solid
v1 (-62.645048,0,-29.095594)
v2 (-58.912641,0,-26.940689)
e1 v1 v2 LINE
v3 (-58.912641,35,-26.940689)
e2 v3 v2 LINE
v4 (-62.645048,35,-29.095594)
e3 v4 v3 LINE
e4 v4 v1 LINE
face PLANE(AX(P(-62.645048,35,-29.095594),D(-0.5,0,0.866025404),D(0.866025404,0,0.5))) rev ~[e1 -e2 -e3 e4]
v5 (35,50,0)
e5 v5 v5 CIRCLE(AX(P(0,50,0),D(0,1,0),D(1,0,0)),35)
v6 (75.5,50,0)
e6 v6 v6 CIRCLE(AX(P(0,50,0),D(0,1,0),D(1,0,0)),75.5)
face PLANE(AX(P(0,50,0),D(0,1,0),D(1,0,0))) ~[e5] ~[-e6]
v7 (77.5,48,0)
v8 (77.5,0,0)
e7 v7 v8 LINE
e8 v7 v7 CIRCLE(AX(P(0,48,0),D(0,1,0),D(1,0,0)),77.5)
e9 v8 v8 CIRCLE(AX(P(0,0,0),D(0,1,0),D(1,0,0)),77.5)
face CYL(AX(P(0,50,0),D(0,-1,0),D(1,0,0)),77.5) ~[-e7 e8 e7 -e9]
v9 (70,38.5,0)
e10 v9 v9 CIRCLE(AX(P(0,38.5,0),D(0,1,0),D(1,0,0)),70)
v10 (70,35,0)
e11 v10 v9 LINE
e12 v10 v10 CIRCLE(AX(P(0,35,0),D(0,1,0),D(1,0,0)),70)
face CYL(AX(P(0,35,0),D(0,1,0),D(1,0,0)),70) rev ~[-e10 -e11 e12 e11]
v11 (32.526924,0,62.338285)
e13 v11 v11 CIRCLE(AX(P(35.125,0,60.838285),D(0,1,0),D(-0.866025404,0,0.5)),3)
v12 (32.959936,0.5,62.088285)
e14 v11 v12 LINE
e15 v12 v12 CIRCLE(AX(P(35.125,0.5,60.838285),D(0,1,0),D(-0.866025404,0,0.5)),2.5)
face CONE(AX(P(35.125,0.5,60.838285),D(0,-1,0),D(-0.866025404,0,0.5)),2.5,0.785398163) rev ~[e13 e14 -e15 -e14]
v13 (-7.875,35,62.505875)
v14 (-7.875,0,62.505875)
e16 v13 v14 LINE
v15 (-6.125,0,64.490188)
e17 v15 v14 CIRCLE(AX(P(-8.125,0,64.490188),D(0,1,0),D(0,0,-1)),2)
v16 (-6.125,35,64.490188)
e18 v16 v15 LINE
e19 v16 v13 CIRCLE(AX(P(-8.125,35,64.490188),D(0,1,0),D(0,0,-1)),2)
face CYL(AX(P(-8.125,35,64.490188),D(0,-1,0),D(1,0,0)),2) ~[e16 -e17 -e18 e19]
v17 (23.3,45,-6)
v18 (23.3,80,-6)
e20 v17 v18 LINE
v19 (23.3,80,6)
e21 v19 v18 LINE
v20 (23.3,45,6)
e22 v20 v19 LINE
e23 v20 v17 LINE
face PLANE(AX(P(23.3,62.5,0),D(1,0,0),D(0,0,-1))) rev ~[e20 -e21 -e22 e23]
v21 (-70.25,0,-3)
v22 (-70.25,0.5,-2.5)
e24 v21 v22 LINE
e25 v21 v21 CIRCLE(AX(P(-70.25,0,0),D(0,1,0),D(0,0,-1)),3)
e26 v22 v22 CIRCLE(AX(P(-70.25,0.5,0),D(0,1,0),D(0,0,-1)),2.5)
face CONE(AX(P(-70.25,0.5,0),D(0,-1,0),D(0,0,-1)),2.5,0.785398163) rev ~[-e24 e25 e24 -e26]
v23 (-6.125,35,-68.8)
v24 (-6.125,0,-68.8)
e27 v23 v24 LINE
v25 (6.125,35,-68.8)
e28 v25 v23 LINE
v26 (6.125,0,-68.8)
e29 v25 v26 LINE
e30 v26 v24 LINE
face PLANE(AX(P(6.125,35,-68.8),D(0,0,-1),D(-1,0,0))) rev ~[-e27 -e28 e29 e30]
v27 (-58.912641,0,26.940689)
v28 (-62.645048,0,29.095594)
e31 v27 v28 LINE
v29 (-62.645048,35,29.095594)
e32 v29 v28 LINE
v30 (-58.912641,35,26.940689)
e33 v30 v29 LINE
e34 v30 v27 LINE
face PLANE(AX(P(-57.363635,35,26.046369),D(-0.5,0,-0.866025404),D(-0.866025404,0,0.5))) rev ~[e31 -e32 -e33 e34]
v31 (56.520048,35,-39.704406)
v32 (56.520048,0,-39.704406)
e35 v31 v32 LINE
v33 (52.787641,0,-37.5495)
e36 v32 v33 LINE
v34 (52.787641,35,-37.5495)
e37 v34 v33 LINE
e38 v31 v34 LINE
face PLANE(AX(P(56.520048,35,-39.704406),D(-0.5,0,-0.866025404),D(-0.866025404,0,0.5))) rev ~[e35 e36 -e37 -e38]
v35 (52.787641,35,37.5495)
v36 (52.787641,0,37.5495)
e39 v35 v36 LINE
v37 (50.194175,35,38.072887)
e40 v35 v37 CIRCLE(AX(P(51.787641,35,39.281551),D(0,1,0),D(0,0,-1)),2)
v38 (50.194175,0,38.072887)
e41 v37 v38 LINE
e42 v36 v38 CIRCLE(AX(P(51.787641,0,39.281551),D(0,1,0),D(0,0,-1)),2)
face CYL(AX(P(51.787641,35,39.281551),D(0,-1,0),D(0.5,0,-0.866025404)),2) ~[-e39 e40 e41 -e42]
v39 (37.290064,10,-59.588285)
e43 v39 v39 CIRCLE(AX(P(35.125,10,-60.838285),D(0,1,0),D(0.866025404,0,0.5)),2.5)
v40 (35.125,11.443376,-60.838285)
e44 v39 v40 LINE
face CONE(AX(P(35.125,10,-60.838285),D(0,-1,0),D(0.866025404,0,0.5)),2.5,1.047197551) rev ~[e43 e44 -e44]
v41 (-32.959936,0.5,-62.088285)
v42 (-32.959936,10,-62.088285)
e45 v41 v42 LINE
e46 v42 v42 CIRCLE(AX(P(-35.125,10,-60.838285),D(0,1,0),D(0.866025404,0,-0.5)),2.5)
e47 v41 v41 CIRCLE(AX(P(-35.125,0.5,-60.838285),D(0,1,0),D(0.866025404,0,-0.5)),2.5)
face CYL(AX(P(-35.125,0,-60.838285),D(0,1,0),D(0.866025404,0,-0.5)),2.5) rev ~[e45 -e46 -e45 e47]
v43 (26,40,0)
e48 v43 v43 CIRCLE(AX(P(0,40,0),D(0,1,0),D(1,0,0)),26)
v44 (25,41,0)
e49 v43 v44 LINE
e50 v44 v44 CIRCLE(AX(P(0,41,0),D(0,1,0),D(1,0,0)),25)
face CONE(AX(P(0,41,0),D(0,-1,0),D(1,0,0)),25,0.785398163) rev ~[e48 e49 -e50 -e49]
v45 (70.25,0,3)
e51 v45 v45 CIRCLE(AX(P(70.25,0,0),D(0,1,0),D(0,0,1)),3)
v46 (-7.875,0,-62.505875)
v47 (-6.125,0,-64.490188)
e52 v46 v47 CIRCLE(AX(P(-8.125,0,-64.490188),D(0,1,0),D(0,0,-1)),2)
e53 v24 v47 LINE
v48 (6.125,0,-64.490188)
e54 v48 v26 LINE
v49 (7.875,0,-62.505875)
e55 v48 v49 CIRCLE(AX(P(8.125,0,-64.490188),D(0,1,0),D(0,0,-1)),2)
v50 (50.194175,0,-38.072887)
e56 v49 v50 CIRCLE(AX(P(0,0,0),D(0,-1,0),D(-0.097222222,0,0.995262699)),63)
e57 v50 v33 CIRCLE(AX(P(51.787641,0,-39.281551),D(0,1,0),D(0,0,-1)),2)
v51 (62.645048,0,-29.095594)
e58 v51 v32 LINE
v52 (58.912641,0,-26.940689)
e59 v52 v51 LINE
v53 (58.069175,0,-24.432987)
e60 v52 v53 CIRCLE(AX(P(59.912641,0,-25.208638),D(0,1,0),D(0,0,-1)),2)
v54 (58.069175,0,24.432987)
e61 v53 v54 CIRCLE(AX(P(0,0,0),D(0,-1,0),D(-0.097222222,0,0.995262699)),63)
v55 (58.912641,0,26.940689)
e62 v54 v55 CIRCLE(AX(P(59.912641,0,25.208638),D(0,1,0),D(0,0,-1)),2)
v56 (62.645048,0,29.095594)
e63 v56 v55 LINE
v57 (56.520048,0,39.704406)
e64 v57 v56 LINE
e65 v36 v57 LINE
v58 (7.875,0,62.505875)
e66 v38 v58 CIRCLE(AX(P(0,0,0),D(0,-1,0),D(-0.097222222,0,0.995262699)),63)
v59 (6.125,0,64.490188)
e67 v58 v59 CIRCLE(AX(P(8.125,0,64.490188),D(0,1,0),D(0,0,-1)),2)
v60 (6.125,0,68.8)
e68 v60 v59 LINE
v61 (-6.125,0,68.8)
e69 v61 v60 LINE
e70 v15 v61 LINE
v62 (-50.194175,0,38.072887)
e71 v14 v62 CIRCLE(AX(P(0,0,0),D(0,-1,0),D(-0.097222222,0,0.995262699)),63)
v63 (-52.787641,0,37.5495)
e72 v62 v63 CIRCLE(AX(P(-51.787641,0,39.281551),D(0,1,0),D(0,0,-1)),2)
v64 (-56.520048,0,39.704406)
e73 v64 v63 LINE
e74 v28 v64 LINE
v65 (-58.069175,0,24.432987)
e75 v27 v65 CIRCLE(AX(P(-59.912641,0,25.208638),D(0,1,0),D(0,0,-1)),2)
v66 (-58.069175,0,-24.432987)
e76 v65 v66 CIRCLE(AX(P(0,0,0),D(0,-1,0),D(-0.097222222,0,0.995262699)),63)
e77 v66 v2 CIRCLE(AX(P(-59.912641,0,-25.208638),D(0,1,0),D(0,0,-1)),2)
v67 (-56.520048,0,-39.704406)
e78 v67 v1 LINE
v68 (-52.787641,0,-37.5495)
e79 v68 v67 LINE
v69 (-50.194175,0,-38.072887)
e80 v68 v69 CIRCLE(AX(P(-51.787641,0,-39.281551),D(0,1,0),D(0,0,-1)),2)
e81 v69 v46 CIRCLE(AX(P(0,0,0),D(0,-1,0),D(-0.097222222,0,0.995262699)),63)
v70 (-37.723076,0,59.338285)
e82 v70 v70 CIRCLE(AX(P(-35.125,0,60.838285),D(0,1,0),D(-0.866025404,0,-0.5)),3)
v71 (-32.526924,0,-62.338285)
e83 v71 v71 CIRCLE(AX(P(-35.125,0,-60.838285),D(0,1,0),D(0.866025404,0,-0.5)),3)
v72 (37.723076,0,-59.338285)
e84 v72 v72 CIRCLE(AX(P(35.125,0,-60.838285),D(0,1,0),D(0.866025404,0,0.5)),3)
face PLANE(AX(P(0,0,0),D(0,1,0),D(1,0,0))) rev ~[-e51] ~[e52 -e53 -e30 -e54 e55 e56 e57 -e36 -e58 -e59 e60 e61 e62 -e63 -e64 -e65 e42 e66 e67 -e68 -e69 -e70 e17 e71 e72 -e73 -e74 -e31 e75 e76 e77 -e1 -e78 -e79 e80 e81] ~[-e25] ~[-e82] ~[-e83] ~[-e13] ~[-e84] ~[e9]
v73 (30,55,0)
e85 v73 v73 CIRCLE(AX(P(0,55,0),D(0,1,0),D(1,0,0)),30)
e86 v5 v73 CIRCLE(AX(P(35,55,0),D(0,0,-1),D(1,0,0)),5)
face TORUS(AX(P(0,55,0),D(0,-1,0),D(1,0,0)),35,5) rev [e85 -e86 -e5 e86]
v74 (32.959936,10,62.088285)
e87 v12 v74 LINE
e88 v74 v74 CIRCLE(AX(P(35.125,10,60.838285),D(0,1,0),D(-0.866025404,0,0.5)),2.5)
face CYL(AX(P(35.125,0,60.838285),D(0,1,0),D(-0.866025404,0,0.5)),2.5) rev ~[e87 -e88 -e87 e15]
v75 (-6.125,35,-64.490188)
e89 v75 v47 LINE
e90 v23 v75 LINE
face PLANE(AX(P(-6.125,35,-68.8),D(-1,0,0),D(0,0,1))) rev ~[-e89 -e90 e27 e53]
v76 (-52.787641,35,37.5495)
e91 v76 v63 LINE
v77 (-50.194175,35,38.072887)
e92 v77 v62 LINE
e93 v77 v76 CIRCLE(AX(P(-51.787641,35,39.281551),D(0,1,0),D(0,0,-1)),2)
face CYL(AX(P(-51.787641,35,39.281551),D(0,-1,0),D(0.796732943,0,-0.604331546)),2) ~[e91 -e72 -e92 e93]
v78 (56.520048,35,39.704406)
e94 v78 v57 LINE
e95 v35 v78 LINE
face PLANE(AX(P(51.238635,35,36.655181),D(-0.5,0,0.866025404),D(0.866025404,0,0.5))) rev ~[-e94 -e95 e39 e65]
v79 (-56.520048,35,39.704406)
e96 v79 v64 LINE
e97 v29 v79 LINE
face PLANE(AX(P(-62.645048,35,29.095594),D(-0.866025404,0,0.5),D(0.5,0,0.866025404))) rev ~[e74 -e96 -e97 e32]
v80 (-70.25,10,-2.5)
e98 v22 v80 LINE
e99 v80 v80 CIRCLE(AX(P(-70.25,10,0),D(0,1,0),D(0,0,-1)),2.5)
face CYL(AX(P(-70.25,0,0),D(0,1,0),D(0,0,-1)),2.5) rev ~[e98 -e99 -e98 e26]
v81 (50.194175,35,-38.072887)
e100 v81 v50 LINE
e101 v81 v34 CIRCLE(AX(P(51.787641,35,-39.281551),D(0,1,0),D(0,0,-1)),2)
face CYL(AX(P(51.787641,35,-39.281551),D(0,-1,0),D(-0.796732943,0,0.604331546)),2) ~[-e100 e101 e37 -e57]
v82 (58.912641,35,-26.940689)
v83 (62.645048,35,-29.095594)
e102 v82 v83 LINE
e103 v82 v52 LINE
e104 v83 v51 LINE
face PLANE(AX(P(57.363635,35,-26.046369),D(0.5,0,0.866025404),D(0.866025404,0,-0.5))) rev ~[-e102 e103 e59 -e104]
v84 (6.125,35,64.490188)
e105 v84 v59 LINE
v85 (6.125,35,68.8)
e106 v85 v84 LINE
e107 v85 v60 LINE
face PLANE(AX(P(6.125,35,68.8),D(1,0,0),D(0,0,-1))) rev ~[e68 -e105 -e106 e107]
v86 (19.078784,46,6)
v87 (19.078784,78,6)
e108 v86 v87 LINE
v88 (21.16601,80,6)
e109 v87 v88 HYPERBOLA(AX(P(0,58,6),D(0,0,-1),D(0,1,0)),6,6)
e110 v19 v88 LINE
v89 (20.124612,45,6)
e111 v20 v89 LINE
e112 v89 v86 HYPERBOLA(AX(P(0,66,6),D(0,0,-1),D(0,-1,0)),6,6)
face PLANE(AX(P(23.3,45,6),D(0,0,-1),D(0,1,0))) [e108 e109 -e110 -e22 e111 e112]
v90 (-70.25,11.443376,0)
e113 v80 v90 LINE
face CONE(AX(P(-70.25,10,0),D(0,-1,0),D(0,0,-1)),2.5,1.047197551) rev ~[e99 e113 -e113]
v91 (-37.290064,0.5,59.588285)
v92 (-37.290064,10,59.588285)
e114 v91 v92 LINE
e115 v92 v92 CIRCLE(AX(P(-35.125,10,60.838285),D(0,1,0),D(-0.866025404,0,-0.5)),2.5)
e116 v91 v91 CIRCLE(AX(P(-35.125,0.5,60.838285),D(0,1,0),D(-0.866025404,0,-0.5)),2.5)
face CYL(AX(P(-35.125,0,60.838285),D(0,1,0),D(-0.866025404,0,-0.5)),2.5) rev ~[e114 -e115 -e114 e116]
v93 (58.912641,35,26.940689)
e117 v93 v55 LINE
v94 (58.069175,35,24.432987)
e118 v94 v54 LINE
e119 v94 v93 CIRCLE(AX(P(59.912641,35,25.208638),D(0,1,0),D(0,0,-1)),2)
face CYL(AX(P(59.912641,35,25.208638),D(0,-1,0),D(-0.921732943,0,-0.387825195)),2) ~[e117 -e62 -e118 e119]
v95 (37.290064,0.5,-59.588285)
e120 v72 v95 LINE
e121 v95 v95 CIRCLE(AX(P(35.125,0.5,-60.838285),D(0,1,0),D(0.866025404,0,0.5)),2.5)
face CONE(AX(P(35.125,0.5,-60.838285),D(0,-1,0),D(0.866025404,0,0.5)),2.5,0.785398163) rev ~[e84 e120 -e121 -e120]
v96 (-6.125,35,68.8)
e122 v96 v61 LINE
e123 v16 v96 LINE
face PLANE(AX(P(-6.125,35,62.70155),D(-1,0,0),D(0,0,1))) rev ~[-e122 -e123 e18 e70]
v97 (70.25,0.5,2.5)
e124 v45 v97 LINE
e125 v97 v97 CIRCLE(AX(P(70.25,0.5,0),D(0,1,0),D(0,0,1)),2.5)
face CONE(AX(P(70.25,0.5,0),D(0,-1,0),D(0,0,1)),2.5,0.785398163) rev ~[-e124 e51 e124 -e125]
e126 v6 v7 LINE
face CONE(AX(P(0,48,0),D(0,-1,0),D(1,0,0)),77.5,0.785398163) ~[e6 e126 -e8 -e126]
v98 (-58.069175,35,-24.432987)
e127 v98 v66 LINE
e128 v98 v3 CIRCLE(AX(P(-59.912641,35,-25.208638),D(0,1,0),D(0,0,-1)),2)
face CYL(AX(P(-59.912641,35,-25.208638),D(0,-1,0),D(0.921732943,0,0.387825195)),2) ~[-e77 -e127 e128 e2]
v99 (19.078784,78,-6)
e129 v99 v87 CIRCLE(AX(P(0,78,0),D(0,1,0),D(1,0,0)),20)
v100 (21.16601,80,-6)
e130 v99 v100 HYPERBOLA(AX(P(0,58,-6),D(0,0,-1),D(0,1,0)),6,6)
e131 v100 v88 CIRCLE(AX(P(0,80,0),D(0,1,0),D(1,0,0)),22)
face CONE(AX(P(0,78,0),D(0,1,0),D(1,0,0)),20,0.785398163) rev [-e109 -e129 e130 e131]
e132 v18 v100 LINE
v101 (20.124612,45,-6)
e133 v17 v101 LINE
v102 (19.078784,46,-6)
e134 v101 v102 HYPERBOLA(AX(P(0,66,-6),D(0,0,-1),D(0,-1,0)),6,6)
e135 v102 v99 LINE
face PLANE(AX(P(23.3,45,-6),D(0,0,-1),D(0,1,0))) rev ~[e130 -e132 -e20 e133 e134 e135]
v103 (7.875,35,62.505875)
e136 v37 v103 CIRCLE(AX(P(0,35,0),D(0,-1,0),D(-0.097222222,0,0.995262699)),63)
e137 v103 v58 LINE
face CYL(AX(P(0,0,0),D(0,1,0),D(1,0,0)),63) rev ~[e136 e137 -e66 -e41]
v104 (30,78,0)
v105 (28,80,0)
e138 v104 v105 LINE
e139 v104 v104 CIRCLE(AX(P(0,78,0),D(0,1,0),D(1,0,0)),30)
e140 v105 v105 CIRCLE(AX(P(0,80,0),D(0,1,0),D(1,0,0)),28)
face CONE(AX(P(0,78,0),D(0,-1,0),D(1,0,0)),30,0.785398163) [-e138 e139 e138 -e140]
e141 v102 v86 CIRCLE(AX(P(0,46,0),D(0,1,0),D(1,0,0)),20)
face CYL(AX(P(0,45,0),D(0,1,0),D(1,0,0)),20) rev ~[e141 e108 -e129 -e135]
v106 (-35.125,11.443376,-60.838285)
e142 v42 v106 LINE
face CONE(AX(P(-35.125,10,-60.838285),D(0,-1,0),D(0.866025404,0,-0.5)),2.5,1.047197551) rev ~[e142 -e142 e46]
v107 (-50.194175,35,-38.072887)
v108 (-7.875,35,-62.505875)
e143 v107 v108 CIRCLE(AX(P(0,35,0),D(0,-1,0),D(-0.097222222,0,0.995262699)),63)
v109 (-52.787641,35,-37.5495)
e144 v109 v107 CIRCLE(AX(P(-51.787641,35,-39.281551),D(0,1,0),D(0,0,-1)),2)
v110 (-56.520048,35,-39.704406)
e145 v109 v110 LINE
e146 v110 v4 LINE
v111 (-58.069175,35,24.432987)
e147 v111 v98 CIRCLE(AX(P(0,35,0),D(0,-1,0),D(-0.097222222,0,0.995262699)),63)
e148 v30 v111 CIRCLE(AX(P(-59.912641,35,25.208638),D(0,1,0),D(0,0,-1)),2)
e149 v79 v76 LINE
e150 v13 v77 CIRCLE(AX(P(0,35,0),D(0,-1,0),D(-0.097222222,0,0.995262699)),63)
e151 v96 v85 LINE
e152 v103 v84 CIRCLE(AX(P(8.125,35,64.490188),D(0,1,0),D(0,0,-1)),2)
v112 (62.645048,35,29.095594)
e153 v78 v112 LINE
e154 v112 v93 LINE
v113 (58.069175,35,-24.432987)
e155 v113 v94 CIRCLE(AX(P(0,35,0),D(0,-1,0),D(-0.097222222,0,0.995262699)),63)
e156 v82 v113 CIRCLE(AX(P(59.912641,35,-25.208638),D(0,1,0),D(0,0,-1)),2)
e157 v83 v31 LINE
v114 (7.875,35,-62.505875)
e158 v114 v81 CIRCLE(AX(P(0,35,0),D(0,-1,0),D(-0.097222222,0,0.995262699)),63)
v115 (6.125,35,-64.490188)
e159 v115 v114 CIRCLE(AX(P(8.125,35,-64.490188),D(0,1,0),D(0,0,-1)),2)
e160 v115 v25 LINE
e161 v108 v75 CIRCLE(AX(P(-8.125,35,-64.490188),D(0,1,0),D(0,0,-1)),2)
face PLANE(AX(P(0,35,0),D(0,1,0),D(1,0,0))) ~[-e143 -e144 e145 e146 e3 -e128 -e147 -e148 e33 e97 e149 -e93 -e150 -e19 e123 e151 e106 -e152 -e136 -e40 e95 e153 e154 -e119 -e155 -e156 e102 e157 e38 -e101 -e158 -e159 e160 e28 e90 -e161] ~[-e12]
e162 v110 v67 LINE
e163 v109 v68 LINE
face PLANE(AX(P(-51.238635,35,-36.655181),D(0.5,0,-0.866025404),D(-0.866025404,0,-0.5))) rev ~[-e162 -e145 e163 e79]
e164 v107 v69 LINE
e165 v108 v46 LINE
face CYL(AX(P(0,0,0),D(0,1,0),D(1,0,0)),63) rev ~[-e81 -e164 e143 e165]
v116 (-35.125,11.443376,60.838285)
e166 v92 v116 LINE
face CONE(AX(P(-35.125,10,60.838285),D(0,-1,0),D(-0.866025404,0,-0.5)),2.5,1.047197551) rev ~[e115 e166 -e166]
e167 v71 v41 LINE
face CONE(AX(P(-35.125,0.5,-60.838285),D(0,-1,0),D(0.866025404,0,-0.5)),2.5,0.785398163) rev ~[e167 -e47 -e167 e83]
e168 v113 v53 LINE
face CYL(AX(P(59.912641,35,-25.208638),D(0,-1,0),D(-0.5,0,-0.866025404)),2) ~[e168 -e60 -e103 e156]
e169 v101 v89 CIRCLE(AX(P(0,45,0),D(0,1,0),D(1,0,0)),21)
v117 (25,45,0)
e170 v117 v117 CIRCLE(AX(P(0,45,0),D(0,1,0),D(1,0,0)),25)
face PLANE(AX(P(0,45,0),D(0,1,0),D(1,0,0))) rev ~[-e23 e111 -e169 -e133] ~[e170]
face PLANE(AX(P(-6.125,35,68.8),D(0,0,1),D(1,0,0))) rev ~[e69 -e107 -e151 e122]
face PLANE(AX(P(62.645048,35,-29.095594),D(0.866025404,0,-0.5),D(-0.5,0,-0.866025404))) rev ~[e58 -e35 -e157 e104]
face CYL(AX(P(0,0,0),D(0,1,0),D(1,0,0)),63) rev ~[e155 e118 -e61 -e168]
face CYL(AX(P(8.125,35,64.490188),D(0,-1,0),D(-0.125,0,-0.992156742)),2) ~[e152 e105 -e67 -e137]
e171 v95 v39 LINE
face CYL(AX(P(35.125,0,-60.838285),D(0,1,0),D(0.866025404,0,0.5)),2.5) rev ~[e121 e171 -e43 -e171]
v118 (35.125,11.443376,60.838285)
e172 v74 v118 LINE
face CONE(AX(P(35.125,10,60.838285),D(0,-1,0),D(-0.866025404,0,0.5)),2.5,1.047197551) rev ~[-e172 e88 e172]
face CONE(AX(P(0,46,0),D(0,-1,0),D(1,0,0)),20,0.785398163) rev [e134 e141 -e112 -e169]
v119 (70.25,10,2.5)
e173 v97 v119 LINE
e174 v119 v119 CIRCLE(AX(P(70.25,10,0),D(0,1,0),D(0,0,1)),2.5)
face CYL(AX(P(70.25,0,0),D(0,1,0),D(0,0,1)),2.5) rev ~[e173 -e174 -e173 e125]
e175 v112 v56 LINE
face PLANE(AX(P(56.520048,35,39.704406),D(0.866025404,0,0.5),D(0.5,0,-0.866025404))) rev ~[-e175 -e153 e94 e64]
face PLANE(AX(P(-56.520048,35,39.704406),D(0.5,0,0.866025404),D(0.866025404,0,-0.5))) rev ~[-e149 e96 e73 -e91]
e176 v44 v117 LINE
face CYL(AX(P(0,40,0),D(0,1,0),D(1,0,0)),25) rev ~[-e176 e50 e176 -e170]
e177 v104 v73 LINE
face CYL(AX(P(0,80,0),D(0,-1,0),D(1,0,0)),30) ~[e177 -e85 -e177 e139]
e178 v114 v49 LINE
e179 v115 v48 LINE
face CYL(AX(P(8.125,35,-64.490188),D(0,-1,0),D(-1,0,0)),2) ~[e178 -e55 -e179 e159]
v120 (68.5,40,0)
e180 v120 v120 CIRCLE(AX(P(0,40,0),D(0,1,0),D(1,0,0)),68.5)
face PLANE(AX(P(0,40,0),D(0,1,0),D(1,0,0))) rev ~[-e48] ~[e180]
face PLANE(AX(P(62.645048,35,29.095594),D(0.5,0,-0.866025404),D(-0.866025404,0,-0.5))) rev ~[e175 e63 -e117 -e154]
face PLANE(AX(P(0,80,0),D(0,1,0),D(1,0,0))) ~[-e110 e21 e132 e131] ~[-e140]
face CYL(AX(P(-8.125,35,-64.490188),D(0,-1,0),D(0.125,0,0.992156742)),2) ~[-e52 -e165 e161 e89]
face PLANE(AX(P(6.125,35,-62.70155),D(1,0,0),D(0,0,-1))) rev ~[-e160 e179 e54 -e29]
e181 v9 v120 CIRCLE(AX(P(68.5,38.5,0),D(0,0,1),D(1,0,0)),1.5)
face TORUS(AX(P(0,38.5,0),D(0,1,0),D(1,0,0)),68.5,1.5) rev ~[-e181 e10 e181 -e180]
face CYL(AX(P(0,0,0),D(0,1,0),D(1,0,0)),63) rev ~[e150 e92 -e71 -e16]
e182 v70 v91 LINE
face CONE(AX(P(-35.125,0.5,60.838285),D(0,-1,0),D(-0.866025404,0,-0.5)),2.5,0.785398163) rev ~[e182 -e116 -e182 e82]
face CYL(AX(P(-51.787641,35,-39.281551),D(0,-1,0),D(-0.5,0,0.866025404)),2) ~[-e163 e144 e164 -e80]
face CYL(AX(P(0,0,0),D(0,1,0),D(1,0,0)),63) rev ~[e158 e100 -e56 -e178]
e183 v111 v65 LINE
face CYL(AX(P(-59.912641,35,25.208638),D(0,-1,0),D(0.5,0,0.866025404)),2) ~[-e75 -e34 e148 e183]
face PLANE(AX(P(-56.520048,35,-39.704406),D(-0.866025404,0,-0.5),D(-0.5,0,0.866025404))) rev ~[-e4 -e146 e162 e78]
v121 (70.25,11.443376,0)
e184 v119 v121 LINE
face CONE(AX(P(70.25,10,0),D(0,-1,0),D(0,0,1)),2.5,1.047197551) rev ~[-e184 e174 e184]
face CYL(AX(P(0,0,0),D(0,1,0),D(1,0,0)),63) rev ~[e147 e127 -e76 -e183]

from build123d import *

# Parameters (mm, degrees)
FILLET1_R                    = 1.5
CUT_EXTRUDE1_START           = -35
CUT_EXTRUDE1_DEPTH           = 35
FILLET2_R                    = 2
CIRPATTERN1_COUNT            = 6
FILLET2_OF_CIRPATTERN1_R     = 2
FILLET3_R                    = 5
CHAMFER1_SIZE                = 2
CHAMFER3_SIZE                = 1
CUT_EXTRUDE2_REACH           = 152.223
SKETCH3_W                    = 12
SKETCH3_H                    = 35
CHAMFER4_SIZE                = 0.5
CIRPATTERN2_COUNT            = 6
CHAMFER4_OF_CIRPATTERN2_SIZE = 0.5


with BuildPart() as part:
    # Sketch1 → Revolve1 (revolve)
    with BuildSketch(Plane.XY):
        Polygon((20, 80), (30, 80), (30, 50), (77.5, 50), (77.5, 0), (63, 0), (63, 35), (70, 35), (70, 40), (25, 40), (25, 45), (20, 45), align=None)
    revolve(axis=Axis((0, -1292.390356755, 0), (0, 1, 0)))

    # Fillet1
    fillet1_edges = [part.edges().sort_by_distance(p)[0] for p in [
        (-70, 40, 0),
    ]]
    fillet(fillet1_edges, radius=FILLET1_R)

    # Sketch2 → Cut-Extrude1 (cut)
    with BuildSketch(Plane.XZ.offset(CUT_EXTRUDE1_START)):
        with BuildLine():
            Line((-6.125, 68.8), (6.125, 68.8))
            Line((6.125, 68.8), (6.125, 62.701550021))
            ThreePointArc((6.125, 62.701550021), (0, 63), (-6.125, 62.701550021))
            Line((-6.125, 62.701550021), (-6.125, 68.8))
        make_face()
    cut_extrude1 = extrude(amount=CUT_EXTRUDE1_DEPTH, mode=Mode.SUBTRACT)

    # Fillet2
    fillet2_edges = [part.edges().sort_by_distance(p)[0] for p in [
        (6.125, 17.5, 62.701550021),
        (-6.125, 17.5, 62.701550021),
    ]]
    fillet(fillet2_edges, radius=FILLET2_R)

    # CirPattern1: Cut-Extrude1 ×6 about axis
    cirpattern1_axis = Axis((0, 0, 0), (0, 1, 0))
    for i in range(1, CIRPATTERN1_COUNT):
        add(cut_extrude1.rotate(cirpattern1_axis, i * 360 / CIRPATTERN1_COUNT), mode=Mode.SUBTRACT)

    # Fillet2 of CirPattern1
    fillet2_of_cirpattern1_edges = [part.edges().sort_by_distance(p)[0] for p in [
        (57.363635175, 17.5, 26.046369412),
        (51.238635175, 17.5, 36.655180609),
        (51.238635175, 17.5, -36.655180609),
        (57.363635175, 17.5, -26.046369412),
        (-6.125, 17.5, -62.701550021),
        (6.125, 17.5, -62.701550021),
        (-57.363635175, 17.5, -26.046369412),
        (-51.238635175, 17.5, -36.655180609),
        (-51.238635175, 17.5, 36.655180609),
        (-57.363635175, 17.5, 26.046369412),
    ]]
    fillet(fillet2_of_cirpattern1_edges, radius=FILLET2_OF_CIRPATTERN1_R)

    # Fillet3
    fillet3_edges = [part.edges().sort_by_distance(p)[0] for p in [
        (-30, 50, 0),
    ]]
    fillet(fillet3_edges, radius=FILLET3_R)

    # Chamfer1
    chamfer1_edges = [part.edges().sort_by_distance(p)[0] for p in [
        (-77.5, 50, 0),
        (-30, 80, 0),
        (-20, 80, 0),
    ]]
    chamfer(chamfer1_edges, length=CHAMFER1_SIZE)

    # Chamfer3
    chamfer3_edges = [part.edges().sort_by_distance(p)[0] for p in [
        (-25, 40, 0),
        (-20, 45, 0),
    ]]
    chamfer(chamfer3_edges, length=CHAMFER3_SIZE)

    # Sketch3 → Cut-Extrude2 (cut, up to next)
    with BuildSketch(Plane(origin=(23.3, 0, 0), x_dir=(0, 0, -1), z_dir=(1, 0, 0)), mode=Mode.PRIVATE) as cut_extrude2_sk1:
        with Locations((0, 62.5)):
            Rectangle(SKETCH3_W, SKETCH3_H)
    cut_extrude2_tool1 = extrude(cut_extrude2_sk1.sketch, amount=-CUT_EXTRUDE2_REACH, mode=Mode.PRIVATE) & part.part
    add(cut_extrude2_tool1.solids().sort_by_distance((23.3, 62.5, 0))[0], mode=Mode.SUBTRACT)

    # Sketch6 → Cut-Revolve1 (revolve, cut)
    with BuildSketch(Plane.XY, mode=Mode.PRIVATE) as cut_revolve1_sk:
        Polygon((-67.75, 0), (-67.75, 10), (-70.25, 11.443375673), (-70.25, 0), align=None)
    cut_revolve1 = revolve(cut_revolve1_sk.sketch.rotate(Axis((-70.25, -967.908056453, 0), (0, 1, 0)), 90), axis=Axis((-70.25, -967.908056453, 0), (0, 1, 0)), mode=Mode.SUBTRACT)

    # Chamfer4
    chamfer4_edges = [part.edges().sort_by_distance(p)[0] for p in [
        (-70.25, 0, 2.5),
    ]]
    chamfer(chamfer4_edges, length=CHAMFER4_SIZE)

    # CirPattern2: Cut-Revolve1 ×6 about axis
    cirpattern2_axis = Axis((0, 0, 0), (0, 1, 0))
    for i in range(1, CIRPATTERN2_COUNT):
        add(cut_revolve1.rotate(cirpattern2_axis, i * 360 / CIRPATTERN2_COUNT), mode=Mode.SUBTRACT)

    # Chamfer4 of CirPattern2
    chamfer4_of_cirpattern2_edges = [part.edges().sort_by_distance(p)[0] for p in [
        (-32.959936491, 0, 62.088284616),
        (37.290063509, 0, 59.588284616),
        (70.25, 0, -2.5),
        (32.959936491, 0, -62.088284616),
        (-37.290063509, 0, -59.588284616),
    ]]
    chamfer(chamfer4_of_cirpattern2_edges, length=CHAMFER4_OF_CIRPATTERN2_SIZE)


solid = part.part
